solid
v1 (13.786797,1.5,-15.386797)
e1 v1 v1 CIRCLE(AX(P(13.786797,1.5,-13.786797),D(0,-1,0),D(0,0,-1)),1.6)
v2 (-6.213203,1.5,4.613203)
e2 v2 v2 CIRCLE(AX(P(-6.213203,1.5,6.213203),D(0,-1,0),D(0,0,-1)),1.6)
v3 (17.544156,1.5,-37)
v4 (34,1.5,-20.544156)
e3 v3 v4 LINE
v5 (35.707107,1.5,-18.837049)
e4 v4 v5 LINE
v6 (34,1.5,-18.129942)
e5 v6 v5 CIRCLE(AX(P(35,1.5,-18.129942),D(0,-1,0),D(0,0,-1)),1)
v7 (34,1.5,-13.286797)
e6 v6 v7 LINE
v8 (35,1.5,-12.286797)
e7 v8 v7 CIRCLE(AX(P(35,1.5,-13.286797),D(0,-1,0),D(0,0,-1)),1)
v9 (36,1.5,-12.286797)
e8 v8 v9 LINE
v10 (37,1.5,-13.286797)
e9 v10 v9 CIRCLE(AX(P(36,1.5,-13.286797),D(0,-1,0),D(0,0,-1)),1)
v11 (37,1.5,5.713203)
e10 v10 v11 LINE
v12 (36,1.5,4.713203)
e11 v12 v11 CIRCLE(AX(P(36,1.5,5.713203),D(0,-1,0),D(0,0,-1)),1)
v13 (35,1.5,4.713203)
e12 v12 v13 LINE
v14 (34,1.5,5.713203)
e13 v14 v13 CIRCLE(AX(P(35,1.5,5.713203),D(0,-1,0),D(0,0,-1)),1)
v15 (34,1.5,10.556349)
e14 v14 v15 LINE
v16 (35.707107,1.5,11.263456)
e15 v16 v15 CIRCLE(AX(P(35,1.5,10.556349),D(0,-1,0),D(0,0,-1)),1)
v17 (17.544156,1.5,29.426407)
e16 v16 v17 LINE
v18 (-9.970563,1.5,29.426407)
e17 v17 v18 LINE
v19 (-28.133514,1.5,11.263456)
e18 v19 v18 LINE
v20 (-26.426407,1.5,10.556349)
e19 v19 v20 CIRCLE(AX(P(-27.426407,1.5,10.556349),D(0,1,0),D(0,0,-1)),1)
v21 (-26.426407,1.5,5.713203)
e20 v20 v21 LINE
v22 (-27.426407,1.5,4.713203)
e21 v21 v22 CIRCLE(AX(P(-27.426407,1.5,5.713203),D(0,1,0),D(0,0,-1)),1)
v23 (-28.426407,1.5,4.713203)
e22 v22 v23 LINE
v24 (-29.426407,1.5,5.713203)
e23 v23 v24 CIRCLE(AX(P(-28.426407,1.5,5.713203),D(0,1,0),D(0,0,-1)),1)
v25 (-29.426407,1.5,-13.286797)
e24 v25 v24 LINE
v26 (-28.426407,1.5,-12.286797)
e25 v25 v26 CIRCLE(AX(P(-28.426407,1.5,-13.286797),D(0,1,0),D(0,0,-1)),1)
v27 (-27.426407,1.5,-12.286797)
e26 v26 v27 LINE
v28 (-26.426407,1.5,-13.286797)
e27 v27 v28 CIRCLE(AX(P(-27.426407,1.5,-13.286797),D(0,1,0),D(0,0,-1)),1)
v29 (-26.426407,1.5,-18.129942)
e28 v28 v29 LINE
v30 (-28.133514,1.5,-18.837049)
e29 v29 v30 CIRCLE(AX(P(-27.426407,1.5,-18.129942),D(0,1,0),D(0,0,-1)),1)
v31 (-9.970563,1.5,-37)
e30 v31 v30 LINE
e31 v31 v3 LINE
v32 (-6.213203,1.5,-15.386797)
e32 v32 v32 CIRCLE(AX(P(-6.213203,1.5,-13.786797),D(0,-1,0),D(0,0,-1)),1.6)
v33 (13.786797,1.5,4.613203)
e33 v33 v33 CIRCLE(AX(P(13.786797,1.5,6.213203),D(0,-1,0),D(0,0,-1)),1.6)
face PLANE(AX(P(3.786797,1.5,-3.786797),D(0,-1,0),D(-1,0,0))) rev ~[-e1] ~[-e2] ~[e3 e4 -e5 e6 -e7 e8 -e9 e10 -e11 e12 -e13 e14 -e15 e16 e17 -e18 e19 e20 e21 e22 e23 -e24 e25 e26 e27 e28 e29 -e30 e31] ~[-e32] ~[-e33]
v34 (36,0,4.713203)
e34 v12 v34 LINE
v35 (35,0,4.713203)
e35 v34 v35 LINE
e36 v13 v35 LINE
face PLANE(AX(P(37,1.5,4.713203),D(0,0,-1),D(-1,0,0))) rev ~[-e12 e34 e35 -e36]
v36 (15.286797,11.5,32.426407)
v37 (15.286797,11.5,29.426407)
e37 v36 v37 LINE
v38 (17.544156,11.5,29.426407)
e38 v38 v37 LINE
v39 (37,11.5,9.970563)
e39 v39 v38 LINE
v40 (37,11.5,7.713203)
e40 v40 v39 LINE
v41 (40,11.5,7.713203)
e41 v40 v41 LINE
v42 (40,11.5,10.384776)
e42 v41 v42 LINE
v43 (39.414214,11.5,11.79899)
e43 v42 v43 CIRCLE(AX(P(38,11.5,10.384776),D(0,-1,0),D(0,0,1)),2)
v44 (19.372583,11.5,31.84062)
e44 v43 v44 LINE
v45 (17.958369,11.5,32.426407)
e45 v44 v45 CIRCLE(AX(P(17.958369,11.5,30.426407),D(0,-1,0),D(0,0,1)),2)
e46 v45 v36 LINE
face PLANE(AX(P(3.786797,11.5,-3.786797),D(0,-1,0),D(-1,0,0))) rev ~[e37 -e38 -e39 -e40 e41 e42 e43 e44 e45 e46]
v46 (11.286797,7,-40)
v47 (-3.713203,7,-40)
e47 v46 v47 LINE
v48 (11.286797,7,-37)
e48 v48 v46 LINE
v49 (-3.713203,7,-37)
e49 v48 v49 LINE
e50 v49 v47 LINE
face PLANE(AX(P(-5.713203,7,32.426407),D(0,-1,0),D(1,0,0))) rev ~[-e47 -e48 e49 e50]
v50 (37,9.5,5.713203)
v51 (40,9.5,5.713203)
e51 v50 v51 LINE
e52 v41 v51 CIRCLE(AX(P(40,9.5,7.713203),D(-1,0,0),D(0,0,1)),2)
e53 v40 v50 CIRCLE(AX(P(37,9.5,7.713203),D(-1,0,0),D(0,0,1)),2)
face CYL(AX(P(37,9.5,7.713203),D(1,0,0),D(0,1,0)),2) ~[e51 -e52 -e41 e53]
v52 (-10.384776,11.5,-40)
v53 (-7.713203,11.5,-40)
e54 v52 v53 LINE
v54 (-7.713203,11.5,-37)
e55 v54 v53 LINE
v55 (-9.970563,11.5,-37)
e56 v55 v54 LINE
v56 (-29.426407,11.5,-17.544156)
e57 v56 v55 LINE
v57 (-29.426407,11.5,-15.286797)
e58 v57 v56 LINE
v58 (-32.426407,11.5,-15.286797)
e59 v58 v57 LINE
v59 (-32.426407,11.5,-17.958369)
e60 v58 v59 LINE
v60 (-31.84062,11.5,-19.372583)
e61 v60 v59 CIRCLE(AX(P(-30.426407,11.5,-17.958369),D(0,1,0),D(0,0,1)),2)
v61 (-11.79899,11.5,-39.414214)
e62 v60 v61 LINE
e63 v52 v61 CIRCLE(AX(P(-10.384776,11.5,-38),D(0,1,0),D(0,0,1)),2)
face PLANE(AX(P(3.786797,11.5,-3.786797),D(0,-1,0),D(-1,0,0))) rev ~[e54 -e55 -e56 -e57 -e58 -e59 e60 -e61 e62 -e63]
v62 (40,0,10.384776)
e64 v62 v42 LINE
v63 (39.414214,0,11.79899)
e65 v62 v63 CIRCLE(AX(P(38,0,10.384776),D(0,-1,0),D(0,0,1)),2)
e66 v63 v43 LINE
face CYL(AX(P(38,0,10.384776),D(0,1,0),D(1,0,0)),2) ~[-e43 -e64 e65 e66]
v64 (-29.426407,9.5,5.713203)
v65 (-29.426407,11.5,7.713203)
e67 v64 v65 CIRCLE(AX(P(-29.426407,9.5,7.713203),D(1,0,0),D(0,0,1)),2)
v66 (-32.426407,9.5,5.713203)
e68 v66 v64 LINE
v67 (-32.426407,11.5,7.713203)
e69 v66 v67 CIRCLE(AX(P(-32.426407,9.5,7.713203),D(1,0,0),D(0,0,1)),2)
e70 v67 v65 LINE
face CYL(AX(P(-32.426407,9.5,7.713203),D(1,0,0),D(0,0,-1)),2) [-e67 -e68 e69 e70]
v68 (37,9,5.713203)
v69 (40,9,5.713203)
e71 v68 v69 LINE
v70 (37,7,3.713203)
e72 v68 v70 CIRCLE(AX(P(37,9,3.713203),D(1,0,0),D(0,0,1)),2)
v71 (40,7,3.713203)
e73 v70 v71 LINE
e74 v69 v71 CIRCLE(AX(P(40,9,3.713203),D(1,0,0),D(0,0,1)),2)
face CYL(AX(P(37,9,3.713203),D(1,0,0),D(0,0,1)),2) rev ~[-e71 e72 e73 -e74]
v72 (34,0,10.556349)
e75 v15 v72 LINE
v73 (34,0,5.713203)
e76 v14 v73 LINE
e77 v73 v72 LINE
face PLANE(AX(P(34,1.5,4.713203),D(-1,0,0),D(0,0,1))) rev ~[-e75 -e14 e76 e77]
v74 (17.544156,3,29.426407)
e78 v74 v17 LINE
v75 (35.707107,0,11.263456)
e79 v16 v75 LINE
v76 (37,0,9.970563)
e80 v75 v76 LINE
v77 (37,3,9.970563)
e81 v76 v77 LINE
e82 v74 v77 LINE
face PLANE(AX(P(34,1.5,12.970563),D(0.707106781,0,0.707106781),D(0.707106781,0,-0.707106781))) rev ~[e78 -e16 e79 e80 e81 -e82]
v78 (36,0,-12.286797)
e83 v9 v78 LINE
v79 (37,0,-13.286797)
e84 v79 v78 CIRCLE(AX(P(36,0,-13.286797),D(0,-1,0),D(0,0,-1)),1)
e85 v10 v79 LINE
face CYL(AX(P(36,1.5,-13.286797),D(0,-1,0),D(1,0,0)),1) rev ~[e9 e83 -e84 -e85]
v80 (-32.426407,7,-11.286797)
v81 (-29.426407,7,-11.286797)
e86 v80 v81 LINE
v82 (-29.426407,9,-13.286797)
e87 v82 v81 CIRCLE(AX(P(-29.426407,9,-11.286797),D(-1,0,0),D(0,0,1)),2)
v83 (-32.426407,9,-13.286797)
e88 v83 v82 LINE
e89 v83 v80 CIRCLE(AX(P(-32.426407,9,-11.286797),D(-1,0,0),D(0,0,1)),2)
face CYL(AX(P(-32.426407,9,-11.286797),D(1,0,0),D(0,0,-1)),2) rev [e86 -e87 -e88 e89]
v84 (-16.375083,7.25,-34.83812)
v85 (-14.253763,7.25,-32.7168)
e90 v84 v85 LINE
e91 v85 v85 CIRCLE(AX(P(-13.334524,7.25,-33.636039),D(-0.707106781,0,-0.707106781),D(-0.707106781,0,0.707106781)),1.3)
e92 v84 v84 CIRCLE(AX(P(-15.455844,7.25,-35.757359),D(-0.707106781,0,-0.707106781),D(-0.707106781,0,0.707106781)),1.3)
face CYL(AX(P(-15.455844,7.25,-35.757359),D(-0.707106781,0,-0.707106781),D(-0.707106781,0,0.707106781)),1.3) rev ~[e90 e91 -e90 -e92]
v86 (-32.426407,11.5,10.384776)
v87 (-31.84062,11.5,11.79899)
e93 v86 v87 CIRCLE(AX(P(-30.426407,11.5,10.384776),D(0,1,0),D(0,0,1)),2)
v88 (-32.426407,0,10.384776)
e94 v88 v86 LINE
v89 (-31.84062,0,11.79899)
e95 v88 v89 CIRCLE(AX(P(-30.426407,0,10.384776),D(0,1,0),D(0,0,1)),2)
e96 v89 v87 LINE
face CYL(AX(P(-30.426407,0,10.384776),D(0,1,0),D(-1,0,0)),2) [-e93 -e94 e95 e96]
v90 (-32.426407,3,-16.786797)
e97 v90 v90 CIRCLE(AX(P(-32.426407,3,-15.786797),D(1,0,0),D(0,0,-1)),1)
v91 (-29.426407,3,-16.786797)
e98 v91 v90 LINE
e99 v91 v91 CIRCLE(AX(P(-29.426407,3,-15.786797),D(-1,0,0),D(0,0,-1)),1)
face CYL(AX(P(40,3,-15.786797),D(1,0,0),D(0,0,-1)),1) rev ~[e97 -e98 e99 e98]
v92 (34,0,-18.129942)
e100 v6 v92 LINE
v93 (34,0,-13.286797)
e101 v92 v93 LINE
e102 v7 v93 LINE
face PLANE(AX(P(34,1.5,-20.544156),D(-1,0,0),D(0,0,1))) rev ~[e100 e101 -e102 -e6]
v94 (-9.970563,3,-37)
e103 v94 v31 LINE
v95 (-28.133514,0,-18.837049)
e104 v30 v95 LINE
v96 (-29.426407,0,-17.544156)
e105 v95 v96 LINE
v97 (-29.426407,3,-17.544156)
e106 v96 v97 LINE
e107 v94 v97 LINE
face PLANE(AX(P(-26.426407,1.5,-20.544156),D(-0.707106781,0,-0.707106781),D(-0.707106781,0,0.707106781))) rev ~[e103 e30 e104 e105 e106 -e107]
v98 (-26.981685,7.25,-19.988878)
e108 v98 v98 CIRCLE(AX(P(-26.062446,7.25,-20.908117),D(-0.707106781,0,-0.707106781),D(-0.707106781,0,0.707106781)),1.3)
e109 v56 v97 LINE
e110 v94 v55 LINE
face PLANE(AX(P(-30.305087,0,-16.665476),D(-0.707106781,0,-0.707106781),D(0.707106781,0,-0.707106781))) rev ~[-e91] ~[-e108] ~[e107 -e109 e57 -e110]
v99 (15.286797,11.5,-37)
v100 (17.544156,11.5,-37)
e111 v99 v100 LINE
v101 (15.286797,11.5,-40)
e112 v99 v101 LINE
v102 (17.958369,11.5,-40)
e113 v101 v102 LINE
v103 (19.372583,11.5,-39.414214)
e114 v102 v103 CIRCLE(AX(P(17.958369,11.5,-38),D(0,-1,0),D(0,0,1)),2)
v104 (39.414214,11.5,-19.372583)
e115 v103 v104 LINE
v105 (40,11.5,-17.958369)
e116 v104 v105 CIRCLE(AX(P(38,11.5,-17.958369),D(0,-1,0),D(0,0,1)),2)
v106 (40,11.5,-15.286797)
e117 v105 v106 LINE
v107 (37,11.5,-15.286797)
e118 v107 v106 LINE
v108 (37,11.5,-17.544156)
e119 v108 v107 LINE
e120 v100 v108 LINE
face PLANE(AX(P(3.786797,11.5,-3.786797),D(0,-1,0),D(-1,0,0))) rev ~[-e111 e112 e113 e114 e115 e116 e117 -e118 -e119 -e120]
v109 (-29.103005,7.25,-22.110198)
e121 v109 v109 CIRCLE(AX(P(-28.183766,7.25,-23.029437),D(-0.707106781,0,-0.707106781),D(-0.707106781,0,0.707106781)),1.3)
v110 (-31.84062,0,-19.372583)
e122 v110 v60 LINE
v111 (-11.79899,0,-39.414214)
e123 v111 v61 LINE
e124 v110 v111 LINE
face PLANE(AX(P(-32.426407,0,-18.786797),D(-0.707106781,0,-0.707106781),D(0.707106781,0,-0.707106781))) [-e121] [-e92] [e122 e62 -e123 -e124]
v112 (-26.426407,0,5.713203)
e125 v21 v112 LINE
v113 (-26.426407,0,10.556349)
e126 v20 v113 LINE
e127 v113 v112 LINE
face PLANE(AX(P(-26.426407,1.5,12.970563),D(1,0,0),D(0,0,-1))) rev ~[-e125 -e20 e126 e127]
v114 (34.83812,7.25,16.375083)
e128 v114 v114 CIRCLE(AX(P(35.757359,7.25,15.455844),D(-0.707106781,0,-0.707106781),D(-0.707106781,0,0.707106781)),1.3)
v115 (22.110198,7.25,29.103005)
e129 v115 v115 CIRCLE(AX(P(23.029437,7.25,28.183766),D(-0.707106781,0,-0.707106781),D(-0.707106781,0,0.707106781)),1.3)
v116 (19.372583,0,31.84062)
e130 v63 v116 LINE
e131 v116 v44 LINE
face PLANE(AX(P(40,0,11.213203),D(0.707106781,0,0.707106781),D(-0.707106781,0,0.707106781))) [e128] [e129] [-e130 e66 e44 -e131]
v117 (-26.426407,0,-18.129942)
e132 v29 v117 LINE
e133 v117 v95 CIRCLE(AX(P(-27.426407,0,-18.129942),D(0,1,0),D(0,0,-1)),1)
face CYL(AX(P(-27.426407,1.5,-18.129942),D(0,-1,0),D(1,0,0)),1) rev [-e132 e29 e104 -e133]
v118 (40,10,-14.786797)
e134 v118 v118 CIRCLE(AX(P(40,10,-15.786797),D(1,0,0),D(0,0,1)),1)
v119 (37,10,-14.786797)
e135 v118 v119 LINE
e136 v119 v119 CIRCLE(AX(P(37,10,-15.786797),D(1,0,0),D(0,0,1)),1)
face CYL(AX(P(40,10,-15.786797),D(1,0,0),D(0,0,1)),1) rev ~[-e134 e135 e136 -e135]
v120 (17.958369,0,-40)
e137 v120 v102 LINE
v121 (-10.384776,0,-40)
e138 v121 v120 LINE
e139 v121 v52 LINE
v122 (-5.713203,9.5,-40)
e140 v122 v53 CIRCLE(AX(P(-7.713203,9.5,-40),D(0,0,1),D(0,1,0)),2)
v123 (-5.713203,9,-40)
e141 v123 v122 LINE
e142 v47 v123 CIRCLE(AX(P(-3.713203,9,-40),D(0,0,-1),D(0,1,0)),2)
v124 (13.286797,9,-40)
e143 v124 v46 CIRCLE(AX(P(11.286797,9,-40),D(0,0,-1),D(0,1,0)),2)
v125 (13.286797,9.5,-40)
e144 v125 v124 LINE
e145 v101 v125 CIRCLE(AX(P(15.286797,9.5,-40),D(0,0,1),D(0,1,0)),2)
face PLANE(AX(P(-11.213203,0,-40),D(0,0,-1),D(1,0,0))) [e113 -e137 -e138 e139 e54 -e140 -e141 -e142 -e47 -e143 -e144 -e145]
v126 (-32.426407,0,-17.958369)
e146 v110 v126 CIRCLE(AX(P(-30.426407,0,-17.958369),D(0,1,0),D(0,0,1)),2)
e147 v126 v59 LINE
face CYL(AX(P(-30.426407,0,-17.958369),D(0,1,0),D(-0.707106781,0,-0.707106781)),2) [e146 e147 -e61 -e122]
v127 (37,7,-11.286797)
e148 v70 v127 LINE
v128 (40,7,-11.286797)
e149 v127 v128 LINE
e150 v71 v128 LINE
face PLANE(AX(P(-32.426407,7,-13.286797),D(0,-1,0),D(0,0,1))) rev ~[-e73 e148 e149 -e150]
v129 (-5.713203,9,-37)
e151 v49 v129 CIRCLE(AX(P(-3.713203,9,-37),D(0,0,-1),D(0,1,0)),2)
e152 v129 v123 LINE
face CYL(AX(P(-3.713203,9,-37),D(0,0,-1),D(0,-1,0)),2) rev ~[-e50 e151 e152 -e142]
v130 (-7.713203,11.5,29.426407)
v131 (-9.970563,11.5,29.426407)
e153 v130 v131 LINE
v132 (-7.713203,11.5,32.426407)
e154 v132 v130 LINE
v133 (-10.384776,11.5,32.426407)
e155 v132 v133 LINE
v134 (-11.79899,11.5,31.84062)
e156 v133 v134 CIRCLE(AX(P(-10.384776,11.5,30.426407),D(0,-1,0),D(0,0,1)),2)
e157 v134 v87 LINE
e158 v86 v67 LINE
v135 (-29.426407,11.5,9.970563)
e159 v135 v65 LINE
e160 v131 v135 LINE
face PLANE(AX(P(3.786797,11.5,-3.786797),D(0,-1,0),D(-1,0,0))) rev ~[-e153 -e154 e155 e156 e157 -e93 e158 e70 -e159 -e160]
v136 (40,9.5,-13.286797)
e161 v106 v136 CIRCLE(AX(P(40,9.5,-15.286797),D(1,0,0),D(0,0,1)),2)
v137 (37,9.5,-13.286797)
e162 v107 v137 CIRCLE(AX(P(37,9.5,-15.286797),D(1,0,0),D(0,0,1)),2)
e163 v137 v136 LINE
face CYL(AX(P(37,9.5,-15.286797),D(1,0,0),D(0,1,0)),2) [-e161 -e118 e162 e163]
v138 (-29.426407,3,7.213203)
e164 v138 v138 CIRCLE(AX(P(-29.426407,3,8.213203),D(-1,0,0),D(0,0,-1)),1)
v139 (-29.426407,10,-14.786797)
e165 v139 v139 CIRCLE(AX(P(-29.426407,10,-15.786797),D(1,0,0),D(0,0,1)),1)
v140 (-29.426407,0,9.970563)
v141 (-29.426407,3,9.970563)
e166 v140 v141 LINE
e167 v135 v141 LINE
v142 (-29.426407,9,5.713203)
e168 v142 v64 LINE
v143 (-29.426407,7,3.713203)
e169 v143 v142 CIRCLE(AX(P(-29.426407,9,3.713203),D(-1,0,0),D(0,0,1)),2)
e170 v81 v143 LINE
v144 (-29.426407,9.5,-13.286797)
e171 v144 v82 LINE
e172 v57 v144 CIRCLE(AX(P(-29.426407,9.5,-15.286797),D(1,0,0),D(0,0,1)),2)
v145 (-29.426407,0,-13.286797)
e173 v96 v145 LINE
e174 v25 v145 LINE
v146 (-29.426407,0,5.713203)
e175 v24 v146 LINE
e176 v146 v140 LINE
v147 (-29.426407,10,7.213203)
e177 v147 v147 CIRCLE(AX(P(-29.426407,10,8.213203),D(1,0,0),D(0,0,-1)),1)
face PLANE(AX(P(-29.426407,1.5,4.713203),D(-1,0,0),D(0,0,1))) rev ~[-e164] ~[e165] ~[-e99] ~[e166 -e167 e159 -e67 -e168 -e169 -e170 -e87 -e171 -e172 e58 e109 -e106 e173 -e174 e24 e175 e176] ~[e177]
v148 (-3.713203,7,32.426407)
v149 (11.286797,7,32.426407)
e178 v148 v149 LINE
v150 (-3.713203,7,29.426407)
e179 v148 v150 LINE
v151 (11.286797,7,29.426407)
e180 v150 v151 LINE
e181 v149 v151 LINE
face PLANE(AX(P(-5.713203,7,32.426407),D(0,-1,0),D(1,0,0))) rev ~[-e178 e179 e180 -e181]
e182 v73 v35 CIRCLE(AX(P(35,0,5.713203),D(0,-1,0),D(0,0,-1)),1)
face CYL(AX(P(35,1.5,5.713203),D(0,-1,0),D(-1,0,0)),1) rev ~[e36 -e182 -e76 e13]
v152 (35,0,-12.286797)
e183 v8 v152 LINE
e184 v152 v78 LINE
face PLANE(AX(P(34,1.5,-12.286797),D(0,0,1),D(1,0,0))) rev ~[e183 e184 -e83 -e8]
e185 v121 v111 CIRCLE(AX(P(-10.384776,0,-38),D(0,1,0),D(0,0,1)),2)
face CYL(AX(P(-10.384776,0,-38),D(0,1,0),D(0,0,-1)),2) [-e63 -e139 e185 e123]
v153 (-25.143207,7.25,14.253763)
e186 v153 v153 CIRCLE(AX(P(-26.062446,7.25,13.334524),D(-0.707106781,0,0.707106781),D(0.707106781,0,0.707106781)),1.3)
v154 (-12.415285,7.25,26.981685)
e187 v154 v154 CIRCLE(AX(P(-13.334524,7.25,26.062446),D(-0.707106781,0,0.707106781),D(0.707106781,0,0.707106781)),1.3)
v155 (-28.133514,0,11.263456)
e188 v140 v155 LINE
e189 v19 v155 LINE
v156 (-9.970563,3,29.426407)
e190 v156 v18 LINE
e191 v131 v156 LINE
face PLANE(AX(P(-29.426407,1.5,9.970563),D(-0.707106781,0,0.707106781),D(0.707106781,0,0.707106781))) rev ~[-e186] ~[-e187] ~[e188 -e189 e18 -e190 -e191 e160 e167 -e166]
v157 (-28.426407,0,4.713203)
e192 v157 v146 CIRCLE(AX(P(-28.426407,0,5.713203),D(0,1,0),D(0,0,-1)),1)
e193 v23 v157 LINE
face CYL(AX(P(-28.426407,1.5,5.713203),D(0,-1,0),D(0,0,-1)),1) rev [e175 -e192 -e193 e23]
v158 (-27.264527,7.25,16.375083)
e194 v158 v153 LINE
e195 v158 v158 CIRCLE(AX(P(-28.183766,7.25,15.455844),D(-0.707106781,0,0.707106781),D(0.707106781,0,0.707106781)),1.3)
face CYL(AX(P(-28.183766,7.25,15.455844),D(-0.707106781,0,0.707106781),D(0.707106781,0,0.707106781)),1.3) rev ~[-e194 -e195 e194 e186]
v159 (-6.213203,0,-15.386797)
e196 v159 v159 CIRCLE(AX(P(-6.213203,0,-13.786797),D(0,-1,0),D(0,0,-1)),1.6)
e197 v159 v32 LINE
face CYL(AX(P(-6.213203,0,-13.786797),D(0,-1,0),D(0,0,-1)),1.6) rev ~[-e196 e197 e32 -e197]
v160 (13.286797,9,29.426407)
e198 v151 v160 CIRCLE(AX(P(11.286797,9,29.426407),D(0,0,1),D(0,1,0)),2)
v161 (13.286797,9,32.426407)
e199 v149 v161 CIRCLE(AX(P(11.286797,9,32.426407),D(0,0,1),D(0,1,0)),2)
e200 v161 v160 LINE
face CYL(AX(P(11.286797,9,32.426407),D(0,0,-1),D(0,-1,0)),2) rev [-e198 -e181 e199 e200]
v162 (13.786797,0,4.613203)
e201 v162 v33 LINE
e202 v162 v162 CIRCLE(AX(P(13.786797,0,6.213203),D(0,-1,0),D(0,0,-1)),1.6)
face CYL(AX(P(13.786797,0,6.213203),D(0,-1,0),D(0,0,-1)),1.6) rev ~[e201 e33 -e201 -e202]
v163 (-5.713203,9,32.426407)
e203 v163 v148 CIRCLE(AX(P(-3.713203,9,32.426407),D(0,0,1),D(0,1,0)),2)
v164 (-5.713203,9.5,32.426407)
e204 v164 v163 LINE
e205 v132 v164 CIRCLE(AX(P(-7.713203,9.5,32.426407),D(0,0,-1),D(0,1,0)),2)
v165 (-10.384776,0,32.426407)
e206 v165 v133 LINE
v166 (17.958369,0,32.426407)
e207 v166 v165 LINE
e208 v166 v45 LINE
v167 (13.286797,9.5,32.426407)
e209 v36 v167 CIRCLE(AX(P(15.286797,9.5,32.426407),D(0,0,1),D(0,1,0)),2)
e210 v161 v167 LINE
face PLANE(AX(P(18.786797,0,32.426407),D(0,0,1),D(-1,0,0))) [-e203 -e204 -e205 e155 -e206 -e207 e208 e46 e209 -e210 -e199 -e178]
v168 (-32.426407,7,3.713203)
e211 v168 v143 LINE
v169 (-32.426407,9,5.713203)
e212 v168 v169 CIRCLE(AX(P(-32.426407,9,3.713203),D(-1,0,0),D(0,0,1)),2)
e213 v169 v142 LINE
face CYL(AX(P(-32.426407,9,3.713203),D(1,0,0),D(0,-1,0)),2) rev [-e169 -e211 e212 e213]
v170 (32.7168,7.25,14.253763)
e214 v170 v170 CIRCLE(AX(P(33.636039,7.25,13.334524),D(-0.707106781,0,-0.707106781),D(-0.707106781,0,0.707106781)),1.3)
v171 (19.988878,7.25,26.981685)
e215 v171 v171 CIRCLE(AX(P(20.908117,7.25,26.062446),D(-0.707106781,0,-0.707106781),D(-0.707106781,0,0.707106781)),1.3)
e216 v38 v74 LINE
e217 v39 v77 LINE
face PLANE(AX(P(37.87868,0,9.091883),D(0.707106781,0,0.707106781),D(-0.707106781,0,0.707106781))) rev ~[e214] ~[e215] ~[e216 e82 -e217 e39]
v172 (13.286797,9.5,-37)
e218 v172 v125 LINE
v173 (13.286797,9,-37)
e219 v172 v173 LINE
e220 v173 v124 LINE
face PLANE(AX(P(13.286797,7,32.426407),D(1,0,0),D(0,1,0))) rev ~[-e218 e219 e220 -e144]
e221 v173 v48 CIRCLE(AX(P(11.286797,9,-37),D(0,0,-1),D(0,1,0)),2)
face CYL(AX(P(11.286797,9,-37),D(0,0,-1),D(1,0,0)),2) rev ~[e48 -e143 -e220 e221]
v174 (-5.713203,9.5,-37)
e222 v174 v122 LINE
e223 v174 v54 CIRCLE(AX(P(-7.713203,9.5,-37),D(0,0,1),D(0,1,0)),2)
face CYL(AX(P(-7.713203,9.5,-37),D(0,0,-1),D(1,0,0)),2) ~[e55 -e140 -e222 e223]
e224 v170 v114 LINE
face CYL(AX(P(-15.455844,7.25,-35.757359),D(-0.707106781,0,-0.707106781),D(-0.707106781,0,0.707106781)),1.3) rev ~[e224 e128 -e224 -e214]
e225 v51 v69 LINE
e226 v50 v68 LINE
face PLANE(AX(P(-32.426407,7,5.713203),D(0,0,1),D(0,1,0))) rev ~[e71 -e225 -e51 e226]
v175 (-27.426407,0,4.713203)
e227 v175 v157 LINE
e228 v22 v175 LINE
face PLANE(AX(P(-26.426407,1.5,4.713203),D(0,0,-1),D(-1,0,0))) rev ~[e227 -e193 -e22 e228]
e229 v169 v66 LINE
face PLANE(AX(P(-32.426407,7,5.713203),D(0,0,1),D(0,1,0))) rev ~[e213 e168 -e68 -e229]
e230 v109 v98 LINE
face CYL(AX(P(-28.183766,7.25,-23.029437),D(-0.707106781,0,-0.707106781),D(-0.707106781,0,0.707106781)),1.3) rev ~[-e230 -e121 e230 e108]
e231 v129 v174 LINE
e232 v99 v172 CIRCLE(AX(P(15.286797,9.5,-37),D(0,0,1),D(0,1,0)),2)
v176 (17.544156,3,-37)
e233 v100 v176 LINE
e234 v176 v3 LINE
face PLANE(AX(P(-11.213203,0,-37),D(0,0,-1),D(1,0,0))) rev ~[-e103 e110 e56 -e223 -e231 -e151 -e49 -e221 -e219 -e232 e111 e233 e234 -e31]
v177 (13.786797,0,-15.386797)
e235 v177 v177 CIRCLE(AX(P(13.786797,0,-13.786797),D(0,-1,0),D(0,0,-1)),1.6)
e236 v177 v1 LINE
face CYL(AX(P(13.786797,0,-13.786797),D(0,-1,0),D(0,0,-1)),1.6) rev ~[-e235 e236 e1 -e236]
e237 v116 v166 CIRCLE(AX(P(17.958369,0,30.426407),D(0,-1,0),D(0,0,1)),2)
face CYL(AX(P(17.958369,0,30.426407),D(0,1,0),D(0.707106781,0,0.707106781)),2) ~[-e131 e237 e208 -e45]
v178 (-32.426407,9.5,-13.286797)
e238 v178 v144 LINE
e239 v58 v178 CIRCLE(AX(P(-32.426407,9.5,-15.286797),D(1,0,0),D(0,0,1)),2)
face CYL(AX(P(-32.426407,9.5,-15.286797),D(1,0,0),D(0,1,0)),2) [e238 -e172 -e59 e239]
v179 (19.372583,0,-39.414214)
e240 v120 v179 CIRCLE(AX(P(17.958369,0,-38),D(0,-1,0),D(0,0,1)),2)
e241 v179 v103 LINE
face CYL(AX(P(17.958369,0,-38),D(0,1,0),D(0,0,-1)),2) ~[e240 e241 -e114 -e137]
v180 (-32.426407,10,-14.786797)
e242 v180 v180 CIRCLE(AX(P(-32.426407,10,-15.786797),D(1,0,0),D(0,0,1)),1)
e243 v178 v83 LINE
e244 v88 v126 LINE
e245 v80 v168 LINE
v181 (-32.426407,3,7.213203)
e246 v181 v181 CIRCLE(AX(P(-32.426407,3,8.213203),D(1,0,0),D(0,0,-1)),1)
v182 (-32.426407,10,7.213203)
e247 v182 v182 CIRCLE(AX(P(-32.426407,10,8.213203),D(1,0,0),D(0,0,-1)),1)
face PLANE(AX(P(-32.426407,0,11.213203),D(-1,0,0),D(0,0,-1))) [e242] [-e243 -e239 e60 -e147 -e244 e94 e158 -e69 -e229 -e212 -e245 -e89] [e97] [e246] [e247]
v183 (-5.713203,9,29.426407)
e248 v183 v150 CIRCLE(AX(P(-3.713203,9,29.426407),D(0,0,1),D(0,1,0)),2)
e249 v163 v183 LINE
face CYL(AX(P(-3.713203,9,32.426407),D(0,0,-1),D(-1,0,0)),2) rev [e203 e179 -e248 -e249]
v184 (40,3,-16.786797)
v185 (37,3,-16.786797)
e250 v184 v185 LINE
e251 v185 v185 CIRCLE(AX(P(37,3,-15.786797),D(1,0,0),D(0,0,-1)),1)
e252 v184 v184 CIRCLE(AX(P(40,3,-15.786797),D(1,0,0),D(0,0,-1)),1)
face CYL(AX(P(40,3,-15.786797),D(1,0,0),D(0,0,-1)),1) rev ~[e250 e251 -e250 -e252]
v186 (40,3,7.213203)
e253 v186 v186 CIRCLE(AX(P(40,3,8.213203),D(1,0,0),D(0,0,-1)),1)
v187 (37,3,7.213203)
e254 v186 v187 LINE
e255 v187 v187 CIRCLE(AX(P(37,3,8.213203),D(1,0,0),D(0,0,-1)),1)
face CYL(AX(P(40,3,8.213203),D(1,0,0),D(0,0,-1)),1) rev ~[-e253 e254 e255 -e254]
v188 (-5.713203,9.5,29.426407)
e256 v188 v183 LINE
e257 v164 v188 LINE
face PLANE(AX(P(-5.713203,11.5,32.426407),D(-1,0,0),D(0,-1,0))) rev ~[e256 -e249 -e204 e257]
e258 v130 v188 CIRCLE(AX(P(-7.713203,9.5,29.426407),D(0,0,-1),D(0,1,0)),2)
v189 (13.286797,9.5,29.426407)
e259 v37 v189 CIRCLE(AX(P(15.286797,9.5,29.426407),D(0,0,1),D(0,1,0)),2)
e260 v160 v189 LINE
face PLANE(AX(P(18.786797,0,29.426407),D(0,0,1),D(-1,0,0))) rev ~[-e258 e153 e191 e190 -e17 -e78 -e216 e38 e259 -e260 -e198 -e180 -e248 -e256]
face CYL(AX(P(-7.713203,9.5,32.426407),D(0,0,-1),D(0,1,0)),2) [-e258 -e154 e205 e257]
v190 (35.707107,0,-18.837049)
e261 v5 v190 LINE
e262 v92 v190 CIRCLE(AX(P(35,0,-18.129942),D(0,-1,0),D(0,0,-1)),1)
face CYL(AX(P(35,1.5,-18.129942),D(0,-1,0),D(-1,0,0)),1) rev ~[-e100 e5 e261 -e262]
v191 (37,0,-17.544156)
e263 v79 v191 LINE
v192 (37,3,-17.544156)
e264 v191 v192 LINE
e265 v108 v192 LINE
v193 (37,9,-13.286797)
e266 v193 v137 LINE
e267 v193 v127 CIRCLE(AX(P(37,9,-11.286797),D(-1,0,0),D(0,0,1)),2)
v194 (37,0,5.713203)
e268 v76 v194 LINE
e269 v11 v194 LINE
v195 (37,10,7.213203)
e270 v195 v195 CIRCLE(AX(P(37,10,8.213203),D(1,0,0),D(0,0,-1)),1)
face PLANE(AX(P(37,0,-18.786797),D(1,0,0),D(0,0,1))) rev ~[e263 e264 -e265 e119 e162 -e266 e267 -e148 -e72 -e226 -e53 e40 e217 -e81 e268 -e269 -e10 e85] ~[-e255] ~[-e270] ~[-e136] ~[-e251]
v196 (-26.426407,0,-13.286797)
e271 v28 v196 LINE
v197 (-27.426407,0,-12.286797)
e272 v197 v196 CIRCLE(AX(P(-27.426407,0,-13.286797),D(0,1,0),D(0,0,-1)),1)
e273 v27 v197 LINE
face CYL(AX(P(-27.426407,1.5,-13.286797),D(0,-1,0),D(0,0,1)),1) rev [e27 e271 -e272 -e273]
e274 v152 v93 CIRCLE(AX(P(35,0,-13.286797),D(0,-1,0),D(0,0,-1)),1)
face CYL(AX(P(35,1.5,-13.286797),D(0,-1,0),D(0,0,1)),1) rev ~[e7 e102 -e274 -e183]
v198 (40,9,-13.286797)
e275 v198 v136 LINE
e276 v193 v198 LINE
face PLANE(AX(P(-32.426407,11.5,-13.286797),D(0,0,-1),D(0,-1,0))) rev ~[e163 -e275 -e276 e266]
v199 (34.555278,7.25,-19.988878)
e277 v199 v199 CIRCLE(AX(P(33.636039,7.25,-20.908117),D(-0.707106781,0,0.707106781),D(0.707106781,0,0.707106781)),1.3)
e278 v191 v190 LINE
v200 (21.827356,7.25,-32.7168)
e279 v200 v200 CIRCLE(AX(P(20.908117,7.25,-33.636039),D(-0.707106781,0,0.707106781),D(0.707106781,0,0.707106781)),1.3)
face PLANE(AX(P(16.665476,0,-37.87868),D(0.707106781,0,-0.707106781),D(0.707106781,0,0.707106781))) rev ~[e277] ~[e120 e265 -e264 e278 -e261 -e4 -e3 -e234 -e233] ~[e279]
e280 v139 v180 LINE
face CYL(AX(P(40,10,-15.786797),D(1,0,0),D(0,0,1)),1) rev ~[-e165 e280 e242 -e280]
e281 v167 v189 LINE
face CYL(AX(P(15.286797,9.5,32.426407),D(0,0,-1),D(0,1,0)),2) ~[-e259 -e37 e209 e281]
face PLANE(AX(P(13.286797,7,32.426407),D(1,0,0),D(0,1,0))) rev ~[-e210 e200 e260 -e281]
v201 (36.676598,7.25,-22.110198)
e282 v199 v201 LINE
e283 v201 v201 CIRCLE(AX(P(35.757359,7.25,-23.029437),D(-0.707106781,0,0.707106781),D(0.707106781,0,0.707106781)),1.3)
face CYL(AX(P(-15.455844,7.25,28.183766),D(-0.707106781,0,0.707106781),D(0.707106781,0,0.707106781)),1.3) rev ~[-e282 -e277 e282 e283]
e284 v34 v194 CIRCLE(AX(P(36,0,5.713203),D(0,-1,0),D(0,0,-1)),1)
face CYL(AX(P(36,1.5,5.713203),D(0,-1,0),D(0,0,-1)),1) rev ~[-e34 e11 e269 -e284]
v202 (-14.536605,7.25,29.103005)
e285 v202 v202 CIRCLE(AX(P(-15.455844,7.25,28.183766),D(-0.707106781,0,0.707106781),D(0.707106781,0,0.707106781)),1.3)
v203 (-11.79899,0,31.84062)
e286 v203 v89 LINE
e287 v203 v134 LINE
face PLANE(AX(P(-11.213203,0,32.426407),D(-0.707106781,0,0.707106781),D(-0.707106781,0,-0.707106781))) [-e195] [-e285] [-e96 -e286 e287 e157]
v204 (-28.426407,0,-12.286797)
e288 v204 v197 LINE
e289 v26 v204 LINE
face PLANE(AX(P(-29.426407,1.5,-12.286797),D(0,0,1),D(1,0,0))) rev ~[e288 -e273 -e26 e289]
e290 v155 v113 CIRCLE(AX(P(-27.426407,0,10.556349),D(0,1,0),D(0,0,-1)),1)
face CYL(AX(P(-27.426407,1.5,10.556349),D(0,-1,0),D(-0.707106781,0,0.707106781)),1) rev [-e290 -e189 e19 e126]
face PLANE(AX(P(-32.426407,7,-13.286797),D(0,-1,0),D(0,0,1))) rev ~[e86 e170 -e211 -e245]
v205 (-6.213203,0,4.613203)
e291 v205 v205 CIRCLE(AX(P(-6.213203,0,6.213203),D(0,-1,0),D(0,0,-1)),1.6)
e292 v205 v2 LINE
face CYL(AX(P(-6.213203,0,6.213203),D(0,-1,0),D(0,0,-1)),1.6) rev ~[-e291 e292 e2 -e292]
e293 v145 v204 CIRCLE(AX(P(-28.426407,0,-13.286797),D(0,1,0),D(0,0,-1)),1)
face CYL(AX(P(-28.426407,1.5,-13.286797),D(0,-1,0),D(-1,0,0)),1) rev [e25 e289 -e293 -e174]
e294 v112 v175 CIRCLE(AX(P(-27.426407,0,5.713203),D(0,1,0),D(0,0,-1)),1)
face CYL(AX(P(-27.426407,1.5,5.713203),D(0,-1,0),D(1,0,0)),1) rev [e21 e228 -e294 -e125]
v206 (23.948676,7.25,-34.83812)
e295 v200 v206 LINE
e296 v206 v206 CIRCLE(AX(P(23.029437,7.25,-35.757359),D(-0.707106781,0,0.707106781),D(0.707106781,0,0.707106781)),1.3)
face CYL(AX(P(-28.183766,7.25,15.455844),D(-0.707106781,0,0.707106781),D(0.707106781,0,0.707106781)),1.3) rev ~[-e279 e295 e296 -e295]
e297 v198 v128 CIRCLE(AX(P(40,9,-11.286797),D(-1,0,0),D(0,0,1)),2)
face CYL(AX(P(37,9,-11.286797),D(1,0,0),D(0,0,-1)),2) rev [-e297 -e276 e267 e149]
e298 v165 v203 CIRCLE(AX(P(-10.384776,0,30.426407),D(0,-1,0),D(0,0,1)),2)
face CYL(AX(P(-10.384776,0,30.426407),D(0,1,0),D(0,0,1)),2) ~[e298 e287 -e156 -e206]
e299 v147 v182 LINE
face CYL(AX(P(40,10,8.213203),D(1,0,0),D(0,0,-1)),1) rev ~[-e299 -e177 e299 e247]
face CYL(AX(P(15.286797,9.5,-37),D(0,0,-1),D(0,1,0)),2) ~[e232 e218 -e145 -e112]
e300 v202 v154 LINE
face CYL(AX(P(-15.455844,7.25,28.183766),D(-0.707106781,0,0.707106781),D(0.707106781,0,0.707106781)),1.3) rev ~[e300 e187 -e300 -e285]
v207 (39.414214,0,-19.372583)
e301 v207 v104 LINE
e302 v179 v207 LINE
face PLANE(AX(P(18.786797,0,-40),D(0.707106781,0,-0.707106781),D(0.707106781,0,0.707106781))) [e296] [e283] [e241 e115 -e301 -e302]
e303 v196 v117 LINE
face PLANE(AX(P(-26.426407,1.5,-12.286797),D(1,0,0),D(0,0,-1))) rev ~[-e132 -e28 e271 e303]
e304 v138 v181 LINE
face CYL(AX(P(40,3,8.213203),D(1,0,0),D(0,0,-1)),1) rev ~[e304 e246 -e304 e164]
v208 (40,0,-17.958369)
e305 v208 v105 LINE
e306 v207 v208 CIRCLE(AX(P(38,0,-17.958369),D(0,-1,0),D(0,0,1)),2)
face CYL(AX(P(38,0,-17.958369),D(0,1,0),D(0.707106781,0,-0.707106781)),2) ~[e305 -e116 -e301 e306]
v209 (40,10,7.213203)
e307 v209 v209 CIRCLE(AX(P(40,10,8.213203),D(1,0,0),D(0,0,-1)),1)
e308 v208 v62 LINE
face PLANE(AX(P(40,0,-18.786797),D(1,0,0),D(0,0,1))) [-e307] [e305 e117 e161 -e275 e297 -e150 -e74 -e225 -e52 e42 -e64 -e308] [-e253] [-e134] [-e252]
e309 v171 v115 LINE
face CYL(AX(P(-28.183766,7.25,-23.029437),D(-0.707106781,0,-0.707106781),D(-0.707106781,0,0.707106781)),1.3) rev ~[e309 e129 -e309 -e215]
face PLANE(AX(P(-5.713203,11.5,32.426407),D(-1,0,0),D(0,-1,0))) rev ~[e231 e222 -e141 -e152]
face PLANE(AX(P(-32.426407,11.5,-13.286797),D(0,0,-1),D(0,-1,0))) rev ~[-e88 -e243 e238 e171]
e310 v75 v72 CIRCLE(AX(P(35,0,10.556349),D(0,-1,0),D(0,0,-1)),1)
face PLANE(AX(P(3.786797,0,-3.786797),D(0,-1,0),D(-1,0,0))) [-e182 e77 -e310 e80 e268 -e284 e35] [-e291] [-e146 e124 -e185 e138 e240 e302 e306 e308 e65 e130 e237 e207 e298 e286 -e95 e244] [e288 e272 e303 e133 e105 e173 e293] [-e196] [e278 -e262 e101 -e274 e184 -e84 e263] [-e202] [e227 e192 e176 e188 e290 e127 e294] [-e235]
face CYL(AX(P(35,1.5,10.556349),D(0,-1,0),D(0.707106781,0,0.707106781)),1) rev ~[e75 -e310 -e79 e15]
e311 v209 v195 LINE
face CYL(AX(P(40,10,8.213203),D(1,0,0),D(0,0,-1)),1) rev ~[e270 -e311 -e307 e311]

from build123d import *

# Parameters (mm, degrees)
BOSS_EXTRUDE1_DEPTH = 11.5
SHELL1_T            = -3
SKETCH3_R           = 1.3
CUT_EXTRUDE1_DEPTH  = 94
SKETCH4_R           = 1.3
CUT_EXTRUDE2_DEPTH  = 94
FILLET1_R           = 2
CUT_EXTRUDE3_DEPTH  = 79
CUT_EXTRUDE4_DEPTH  = 79
FILLET2_R           = 2
SKETCH7_R           = 1.6
CUT_EXTRUDE5_DEPTH  = 10
SKETCH8_R           = 1
CUT_EXTRUDE7_DEPTH  = 79
CUT_EXTRUDE8_DEPTH  = 1.5
CUT_EXTRUDE9_DEPTH  = 1.5
FILLET3_R           = 1


with BuildPart() as part:
    # Sketch1 → Boss-Extrude1 (new body)
    with BuildSketch(Plane(origin=(0, 0, 0), x_dir=(1, 0, 0), z_dir=(0, 1, 0))):
        Polygon((-11.213203436, 40), (18.786796564, 40), (40, 18.786796564), (40, -11.213203436), (18.786796564, -32.426406871), (-11.213203436, -32.426406871), (-32.426406871, -11.213203436), (-32.426406871, 18.786796564), align=None)
    extrude(amount=BOSS_EXTRUDE1_DEPTH)

    # Shell1
    shell1_openings = [part.faces().sort_by_distance(p)[0] for p in [
        (3.786796564, 11.5, -3.786796564),
    ]]
    offset(amount=SHELL1_T, openings=shell1_openings, kind=Kind.INTERSECTION)

    # Sketch3 → Cut-Extrude1 (cut)
    with BuildSketch(Plane(origin=(-21.819805153, 0, 21.819805153), x_dir=(0.7071067811865558, 0, 0.7071067811865392), z_dir=(-0.7071067811865392, 0, 0.7071067811865558))):
        with Locations((-9, 7.25)):
            Circle(SKETCH3_R)
        with Locations((9, 7.25)):
            Circle(SKETCH3_R)
    extrude(amount=-CUT_EXTRUDE1_DEPTH, mode=Mode.SUBTRACT)

    # Sketch4 → Cut-Extrude2 (cut)
    with BuildSketch(Plane(origin=(-25.606601718, 0, -25.606601718), x_dir=(-0.7071067811865556, 0, 0.7071067811865396), z_dir=(-0.7071067811865396, 0, -0.7071067811865556))):
        with Locations((-14.355339059, 7.25)):
            Circle(SKETCH4_R)
        with Locations((3.644660941, 7.25)):
            Circle(SKETCH4_R)
    extrude(amount=-CUT_EXTRUDE2_DEPTH, mode=Mode.SUBTRACT)

    # Fillet1
    fillet1_edges = [part.edges().sort_by_distance(p)[0] for p in [
        (40, 5.75, -18.786796564),
        (40, 5.75, 11.213203436),
        (18.786796564, 5.75, 32.426406871),
        (-11.213203436, 5.75, 32.426406871),
        (-32.426406871, 5.75, 11.213203436),
        (-32.426406871, 5.75, -18.786796564),
        (-11.213203436, 5.75, -40),
        (18.786796564, 5.75, -40),
    ]]
    fillet(fillet1_edges, radius=FILLET1_R)

    # Sketch5 → Cut-Extrude3 (cut)
    with BuildSketch(Plane.XY.offset(32.426406871)):
        Polygon((3.786796564, 7), (13.286796564, 7), (13.286796564, 11.5), (-5.713203436, 11.5), (-5.713203436, 7), align=None)
    extrude(amount=-CUT_EXTRUDE3_DEPTH, mode=Mode.SUBTRACT)

    # Sketch6 → Cut-Extrude4 (cut)
    with BuildSketch(Plane.ZY.offset(32.426406871)):
        Polygon((-3.786796564, 7), (5.713203436, 7), (5.713203436, 11.5), (-13.286796564, 11.5), (-13.286796564, 7), align=None)
    extrude(amount=-CUT_EXTRUDE4_DEPTH, mode=Mode.SUBTRACT)

    # Fillet2
    fillet2_edges = [part.edges().sort_by_distance(p)[0] for p in [
        (-5.713203436, 7, -38.5),
        (-5.713203436, 11.5, -38.5),
        (13.286796564, 11.5, -38.5),
        (13.286796564, 7, -38.5),
        (-5.713203436, 7, 30.926406871),
        (-5.713203436, 11.5, 30.926406871),
        (13.286796564, 11.5, 30.926406871),
        (13.286796564, 7, 30.926406871),
        (38.5, 7, -13.286796564),
        (-30.926406871, 7, -13.286796564),
        (38.5, 11.5, -13.286796564),
        (-30.926406871, 11.5, -13.286796564),
        (38.5, 11.5, 5.713203436),
        (-30.926406871, 11.5, 5.713203436),
        (38.5, 7, 5.713203436),
        (-30.926406871, 7, 5.713203436),
    ]]
    fillet(fillet2_edges, radius=FILLET2_R)

    # Sketch7 → Cut-Extrude5 (cut)
    with BuildSketch(Plane(origin=(0, 0, 0), x_dir=(-1, 0, 0), z_dir=(0, -1, 0))):
        with Locations(Location((6.213203436, -6.213203436, 0), (0, 0, 90))):
            Circle(SKETCH7_R)
        with Locations(Location((-13.786796564, -6.213203436, 0), (0, 0, 90))):
            Circle(SKETCH7_R)
        with Locations(Location((-13.786796564, 13.786796564, 0), (0, 0, 90))):
            Circle(SKETCH7_R)
        with Locations(Location((6.213203436, 13.786796564, 0), (0, 0, 90))):
            Circle(SKETCH7_R)
    extrude(amount=-CUT_EXTRUDE5_DEPTH, mode=Mode.SUBTRACT)

    # Sketch8 → Cut-Extrude7 (cut)
    with BuildSketch(Plane(origin=(40, 0, 0), x_dir=(0, 0, -1), z_dir=(1, 0, 0))):
        with Locations((-8.213203436, 10)):
            Circle(SKETCH8_R)
        with Locations((-8.213203436, 3)):
            Circle(SKETCH8_R)
        with Locations((15.786796564, 3)):
            Circle(SKETCH8_R)
        with Locations(Location((15.786796564, 10, 0), (0, 0, 180))):
            Circle(SKETCH8_R)
    extrude(amount=-CUT_EXTRUDE7_DEPTH, mode=Mode.SUBTRACT)

    # Sketch10 → Cut-Extrude8 (cut)
    with BuildSketch(Plane(origin=(0, 3, 0), x_dir=(1, 0, 0), z_dir=(0, 1, 0))):
        Polygon((17.544155877, 37), (37, 17.544155877), (37, -9.970562748), (17.544155877, -29.426406871), (-9.970562748, -29.426406871), (-29.426406871, -9.970562748), (-29.426406871, 17.544155877), (-9.970562748, 37), align=None)
    extrude(amount=-CUT_EXTRUDE8_DEPTH, mode=Mode.SUBTRACT)

    # Sketch12 → Cut-Extrude9 (cut)
    with BuildSketch(Plane(origin=(0, 1.5, 0), x_dir=(1, 0, 0), z_dir=(0, 1, 0))):
        Polygon((-26.426406871, 20.544155877), (-29.426406871, 17.544155877), (-29.426406871, 12.286796564), (-26.426406871, 12.286796564), align=None)
        Polygon((-26.426406871, -4.713203436), (-29.426406871, -4.713203436), (-29.426406871, -9.970562748), (-26.426406871, -12.970562748), align=None)
        Polygon((34, 12.286796564), (37, 12.286796564), (37, 17.544155877), (34, 20.544155877), align=None)
        Polygon((37, -9.970562748), (37, -4.713203436), (34, -4.713203436), (34, -12.970562748), align=None)
    extrude(amount=-CUT_EXTRUDE9_DEPTH, mode=Mode.SUBTRACT)

    # Fillet3
    fillet3_edges = [part.edges().sort_by_distance(p)[0] for p in [
        (-26.426406871, 0.75, 4.713203436),
        (-26.426406871, 0.75, 12.970562748),
        (-29.426406871, 0.75, 4.713203436),
        (34, 0.75, -12.286796564),
        (34, 0.75, -20.544155877),
        (37, 0.75, -12.286796564),
        (37, 0.75, 4.713203436),
        (34, 0.75, 12.970562748),
        (34, 0.75, 4.713203436),
        (-29.426406871, 0.75, -12.286796564),
        (-26.426406871, 0.75, -20.544155877),
        (-26.426406871, 0.75, -12.286796564),
    ]]
    fillet(fillet3_edges, radius=FILLET3_R)


solid = part.part
